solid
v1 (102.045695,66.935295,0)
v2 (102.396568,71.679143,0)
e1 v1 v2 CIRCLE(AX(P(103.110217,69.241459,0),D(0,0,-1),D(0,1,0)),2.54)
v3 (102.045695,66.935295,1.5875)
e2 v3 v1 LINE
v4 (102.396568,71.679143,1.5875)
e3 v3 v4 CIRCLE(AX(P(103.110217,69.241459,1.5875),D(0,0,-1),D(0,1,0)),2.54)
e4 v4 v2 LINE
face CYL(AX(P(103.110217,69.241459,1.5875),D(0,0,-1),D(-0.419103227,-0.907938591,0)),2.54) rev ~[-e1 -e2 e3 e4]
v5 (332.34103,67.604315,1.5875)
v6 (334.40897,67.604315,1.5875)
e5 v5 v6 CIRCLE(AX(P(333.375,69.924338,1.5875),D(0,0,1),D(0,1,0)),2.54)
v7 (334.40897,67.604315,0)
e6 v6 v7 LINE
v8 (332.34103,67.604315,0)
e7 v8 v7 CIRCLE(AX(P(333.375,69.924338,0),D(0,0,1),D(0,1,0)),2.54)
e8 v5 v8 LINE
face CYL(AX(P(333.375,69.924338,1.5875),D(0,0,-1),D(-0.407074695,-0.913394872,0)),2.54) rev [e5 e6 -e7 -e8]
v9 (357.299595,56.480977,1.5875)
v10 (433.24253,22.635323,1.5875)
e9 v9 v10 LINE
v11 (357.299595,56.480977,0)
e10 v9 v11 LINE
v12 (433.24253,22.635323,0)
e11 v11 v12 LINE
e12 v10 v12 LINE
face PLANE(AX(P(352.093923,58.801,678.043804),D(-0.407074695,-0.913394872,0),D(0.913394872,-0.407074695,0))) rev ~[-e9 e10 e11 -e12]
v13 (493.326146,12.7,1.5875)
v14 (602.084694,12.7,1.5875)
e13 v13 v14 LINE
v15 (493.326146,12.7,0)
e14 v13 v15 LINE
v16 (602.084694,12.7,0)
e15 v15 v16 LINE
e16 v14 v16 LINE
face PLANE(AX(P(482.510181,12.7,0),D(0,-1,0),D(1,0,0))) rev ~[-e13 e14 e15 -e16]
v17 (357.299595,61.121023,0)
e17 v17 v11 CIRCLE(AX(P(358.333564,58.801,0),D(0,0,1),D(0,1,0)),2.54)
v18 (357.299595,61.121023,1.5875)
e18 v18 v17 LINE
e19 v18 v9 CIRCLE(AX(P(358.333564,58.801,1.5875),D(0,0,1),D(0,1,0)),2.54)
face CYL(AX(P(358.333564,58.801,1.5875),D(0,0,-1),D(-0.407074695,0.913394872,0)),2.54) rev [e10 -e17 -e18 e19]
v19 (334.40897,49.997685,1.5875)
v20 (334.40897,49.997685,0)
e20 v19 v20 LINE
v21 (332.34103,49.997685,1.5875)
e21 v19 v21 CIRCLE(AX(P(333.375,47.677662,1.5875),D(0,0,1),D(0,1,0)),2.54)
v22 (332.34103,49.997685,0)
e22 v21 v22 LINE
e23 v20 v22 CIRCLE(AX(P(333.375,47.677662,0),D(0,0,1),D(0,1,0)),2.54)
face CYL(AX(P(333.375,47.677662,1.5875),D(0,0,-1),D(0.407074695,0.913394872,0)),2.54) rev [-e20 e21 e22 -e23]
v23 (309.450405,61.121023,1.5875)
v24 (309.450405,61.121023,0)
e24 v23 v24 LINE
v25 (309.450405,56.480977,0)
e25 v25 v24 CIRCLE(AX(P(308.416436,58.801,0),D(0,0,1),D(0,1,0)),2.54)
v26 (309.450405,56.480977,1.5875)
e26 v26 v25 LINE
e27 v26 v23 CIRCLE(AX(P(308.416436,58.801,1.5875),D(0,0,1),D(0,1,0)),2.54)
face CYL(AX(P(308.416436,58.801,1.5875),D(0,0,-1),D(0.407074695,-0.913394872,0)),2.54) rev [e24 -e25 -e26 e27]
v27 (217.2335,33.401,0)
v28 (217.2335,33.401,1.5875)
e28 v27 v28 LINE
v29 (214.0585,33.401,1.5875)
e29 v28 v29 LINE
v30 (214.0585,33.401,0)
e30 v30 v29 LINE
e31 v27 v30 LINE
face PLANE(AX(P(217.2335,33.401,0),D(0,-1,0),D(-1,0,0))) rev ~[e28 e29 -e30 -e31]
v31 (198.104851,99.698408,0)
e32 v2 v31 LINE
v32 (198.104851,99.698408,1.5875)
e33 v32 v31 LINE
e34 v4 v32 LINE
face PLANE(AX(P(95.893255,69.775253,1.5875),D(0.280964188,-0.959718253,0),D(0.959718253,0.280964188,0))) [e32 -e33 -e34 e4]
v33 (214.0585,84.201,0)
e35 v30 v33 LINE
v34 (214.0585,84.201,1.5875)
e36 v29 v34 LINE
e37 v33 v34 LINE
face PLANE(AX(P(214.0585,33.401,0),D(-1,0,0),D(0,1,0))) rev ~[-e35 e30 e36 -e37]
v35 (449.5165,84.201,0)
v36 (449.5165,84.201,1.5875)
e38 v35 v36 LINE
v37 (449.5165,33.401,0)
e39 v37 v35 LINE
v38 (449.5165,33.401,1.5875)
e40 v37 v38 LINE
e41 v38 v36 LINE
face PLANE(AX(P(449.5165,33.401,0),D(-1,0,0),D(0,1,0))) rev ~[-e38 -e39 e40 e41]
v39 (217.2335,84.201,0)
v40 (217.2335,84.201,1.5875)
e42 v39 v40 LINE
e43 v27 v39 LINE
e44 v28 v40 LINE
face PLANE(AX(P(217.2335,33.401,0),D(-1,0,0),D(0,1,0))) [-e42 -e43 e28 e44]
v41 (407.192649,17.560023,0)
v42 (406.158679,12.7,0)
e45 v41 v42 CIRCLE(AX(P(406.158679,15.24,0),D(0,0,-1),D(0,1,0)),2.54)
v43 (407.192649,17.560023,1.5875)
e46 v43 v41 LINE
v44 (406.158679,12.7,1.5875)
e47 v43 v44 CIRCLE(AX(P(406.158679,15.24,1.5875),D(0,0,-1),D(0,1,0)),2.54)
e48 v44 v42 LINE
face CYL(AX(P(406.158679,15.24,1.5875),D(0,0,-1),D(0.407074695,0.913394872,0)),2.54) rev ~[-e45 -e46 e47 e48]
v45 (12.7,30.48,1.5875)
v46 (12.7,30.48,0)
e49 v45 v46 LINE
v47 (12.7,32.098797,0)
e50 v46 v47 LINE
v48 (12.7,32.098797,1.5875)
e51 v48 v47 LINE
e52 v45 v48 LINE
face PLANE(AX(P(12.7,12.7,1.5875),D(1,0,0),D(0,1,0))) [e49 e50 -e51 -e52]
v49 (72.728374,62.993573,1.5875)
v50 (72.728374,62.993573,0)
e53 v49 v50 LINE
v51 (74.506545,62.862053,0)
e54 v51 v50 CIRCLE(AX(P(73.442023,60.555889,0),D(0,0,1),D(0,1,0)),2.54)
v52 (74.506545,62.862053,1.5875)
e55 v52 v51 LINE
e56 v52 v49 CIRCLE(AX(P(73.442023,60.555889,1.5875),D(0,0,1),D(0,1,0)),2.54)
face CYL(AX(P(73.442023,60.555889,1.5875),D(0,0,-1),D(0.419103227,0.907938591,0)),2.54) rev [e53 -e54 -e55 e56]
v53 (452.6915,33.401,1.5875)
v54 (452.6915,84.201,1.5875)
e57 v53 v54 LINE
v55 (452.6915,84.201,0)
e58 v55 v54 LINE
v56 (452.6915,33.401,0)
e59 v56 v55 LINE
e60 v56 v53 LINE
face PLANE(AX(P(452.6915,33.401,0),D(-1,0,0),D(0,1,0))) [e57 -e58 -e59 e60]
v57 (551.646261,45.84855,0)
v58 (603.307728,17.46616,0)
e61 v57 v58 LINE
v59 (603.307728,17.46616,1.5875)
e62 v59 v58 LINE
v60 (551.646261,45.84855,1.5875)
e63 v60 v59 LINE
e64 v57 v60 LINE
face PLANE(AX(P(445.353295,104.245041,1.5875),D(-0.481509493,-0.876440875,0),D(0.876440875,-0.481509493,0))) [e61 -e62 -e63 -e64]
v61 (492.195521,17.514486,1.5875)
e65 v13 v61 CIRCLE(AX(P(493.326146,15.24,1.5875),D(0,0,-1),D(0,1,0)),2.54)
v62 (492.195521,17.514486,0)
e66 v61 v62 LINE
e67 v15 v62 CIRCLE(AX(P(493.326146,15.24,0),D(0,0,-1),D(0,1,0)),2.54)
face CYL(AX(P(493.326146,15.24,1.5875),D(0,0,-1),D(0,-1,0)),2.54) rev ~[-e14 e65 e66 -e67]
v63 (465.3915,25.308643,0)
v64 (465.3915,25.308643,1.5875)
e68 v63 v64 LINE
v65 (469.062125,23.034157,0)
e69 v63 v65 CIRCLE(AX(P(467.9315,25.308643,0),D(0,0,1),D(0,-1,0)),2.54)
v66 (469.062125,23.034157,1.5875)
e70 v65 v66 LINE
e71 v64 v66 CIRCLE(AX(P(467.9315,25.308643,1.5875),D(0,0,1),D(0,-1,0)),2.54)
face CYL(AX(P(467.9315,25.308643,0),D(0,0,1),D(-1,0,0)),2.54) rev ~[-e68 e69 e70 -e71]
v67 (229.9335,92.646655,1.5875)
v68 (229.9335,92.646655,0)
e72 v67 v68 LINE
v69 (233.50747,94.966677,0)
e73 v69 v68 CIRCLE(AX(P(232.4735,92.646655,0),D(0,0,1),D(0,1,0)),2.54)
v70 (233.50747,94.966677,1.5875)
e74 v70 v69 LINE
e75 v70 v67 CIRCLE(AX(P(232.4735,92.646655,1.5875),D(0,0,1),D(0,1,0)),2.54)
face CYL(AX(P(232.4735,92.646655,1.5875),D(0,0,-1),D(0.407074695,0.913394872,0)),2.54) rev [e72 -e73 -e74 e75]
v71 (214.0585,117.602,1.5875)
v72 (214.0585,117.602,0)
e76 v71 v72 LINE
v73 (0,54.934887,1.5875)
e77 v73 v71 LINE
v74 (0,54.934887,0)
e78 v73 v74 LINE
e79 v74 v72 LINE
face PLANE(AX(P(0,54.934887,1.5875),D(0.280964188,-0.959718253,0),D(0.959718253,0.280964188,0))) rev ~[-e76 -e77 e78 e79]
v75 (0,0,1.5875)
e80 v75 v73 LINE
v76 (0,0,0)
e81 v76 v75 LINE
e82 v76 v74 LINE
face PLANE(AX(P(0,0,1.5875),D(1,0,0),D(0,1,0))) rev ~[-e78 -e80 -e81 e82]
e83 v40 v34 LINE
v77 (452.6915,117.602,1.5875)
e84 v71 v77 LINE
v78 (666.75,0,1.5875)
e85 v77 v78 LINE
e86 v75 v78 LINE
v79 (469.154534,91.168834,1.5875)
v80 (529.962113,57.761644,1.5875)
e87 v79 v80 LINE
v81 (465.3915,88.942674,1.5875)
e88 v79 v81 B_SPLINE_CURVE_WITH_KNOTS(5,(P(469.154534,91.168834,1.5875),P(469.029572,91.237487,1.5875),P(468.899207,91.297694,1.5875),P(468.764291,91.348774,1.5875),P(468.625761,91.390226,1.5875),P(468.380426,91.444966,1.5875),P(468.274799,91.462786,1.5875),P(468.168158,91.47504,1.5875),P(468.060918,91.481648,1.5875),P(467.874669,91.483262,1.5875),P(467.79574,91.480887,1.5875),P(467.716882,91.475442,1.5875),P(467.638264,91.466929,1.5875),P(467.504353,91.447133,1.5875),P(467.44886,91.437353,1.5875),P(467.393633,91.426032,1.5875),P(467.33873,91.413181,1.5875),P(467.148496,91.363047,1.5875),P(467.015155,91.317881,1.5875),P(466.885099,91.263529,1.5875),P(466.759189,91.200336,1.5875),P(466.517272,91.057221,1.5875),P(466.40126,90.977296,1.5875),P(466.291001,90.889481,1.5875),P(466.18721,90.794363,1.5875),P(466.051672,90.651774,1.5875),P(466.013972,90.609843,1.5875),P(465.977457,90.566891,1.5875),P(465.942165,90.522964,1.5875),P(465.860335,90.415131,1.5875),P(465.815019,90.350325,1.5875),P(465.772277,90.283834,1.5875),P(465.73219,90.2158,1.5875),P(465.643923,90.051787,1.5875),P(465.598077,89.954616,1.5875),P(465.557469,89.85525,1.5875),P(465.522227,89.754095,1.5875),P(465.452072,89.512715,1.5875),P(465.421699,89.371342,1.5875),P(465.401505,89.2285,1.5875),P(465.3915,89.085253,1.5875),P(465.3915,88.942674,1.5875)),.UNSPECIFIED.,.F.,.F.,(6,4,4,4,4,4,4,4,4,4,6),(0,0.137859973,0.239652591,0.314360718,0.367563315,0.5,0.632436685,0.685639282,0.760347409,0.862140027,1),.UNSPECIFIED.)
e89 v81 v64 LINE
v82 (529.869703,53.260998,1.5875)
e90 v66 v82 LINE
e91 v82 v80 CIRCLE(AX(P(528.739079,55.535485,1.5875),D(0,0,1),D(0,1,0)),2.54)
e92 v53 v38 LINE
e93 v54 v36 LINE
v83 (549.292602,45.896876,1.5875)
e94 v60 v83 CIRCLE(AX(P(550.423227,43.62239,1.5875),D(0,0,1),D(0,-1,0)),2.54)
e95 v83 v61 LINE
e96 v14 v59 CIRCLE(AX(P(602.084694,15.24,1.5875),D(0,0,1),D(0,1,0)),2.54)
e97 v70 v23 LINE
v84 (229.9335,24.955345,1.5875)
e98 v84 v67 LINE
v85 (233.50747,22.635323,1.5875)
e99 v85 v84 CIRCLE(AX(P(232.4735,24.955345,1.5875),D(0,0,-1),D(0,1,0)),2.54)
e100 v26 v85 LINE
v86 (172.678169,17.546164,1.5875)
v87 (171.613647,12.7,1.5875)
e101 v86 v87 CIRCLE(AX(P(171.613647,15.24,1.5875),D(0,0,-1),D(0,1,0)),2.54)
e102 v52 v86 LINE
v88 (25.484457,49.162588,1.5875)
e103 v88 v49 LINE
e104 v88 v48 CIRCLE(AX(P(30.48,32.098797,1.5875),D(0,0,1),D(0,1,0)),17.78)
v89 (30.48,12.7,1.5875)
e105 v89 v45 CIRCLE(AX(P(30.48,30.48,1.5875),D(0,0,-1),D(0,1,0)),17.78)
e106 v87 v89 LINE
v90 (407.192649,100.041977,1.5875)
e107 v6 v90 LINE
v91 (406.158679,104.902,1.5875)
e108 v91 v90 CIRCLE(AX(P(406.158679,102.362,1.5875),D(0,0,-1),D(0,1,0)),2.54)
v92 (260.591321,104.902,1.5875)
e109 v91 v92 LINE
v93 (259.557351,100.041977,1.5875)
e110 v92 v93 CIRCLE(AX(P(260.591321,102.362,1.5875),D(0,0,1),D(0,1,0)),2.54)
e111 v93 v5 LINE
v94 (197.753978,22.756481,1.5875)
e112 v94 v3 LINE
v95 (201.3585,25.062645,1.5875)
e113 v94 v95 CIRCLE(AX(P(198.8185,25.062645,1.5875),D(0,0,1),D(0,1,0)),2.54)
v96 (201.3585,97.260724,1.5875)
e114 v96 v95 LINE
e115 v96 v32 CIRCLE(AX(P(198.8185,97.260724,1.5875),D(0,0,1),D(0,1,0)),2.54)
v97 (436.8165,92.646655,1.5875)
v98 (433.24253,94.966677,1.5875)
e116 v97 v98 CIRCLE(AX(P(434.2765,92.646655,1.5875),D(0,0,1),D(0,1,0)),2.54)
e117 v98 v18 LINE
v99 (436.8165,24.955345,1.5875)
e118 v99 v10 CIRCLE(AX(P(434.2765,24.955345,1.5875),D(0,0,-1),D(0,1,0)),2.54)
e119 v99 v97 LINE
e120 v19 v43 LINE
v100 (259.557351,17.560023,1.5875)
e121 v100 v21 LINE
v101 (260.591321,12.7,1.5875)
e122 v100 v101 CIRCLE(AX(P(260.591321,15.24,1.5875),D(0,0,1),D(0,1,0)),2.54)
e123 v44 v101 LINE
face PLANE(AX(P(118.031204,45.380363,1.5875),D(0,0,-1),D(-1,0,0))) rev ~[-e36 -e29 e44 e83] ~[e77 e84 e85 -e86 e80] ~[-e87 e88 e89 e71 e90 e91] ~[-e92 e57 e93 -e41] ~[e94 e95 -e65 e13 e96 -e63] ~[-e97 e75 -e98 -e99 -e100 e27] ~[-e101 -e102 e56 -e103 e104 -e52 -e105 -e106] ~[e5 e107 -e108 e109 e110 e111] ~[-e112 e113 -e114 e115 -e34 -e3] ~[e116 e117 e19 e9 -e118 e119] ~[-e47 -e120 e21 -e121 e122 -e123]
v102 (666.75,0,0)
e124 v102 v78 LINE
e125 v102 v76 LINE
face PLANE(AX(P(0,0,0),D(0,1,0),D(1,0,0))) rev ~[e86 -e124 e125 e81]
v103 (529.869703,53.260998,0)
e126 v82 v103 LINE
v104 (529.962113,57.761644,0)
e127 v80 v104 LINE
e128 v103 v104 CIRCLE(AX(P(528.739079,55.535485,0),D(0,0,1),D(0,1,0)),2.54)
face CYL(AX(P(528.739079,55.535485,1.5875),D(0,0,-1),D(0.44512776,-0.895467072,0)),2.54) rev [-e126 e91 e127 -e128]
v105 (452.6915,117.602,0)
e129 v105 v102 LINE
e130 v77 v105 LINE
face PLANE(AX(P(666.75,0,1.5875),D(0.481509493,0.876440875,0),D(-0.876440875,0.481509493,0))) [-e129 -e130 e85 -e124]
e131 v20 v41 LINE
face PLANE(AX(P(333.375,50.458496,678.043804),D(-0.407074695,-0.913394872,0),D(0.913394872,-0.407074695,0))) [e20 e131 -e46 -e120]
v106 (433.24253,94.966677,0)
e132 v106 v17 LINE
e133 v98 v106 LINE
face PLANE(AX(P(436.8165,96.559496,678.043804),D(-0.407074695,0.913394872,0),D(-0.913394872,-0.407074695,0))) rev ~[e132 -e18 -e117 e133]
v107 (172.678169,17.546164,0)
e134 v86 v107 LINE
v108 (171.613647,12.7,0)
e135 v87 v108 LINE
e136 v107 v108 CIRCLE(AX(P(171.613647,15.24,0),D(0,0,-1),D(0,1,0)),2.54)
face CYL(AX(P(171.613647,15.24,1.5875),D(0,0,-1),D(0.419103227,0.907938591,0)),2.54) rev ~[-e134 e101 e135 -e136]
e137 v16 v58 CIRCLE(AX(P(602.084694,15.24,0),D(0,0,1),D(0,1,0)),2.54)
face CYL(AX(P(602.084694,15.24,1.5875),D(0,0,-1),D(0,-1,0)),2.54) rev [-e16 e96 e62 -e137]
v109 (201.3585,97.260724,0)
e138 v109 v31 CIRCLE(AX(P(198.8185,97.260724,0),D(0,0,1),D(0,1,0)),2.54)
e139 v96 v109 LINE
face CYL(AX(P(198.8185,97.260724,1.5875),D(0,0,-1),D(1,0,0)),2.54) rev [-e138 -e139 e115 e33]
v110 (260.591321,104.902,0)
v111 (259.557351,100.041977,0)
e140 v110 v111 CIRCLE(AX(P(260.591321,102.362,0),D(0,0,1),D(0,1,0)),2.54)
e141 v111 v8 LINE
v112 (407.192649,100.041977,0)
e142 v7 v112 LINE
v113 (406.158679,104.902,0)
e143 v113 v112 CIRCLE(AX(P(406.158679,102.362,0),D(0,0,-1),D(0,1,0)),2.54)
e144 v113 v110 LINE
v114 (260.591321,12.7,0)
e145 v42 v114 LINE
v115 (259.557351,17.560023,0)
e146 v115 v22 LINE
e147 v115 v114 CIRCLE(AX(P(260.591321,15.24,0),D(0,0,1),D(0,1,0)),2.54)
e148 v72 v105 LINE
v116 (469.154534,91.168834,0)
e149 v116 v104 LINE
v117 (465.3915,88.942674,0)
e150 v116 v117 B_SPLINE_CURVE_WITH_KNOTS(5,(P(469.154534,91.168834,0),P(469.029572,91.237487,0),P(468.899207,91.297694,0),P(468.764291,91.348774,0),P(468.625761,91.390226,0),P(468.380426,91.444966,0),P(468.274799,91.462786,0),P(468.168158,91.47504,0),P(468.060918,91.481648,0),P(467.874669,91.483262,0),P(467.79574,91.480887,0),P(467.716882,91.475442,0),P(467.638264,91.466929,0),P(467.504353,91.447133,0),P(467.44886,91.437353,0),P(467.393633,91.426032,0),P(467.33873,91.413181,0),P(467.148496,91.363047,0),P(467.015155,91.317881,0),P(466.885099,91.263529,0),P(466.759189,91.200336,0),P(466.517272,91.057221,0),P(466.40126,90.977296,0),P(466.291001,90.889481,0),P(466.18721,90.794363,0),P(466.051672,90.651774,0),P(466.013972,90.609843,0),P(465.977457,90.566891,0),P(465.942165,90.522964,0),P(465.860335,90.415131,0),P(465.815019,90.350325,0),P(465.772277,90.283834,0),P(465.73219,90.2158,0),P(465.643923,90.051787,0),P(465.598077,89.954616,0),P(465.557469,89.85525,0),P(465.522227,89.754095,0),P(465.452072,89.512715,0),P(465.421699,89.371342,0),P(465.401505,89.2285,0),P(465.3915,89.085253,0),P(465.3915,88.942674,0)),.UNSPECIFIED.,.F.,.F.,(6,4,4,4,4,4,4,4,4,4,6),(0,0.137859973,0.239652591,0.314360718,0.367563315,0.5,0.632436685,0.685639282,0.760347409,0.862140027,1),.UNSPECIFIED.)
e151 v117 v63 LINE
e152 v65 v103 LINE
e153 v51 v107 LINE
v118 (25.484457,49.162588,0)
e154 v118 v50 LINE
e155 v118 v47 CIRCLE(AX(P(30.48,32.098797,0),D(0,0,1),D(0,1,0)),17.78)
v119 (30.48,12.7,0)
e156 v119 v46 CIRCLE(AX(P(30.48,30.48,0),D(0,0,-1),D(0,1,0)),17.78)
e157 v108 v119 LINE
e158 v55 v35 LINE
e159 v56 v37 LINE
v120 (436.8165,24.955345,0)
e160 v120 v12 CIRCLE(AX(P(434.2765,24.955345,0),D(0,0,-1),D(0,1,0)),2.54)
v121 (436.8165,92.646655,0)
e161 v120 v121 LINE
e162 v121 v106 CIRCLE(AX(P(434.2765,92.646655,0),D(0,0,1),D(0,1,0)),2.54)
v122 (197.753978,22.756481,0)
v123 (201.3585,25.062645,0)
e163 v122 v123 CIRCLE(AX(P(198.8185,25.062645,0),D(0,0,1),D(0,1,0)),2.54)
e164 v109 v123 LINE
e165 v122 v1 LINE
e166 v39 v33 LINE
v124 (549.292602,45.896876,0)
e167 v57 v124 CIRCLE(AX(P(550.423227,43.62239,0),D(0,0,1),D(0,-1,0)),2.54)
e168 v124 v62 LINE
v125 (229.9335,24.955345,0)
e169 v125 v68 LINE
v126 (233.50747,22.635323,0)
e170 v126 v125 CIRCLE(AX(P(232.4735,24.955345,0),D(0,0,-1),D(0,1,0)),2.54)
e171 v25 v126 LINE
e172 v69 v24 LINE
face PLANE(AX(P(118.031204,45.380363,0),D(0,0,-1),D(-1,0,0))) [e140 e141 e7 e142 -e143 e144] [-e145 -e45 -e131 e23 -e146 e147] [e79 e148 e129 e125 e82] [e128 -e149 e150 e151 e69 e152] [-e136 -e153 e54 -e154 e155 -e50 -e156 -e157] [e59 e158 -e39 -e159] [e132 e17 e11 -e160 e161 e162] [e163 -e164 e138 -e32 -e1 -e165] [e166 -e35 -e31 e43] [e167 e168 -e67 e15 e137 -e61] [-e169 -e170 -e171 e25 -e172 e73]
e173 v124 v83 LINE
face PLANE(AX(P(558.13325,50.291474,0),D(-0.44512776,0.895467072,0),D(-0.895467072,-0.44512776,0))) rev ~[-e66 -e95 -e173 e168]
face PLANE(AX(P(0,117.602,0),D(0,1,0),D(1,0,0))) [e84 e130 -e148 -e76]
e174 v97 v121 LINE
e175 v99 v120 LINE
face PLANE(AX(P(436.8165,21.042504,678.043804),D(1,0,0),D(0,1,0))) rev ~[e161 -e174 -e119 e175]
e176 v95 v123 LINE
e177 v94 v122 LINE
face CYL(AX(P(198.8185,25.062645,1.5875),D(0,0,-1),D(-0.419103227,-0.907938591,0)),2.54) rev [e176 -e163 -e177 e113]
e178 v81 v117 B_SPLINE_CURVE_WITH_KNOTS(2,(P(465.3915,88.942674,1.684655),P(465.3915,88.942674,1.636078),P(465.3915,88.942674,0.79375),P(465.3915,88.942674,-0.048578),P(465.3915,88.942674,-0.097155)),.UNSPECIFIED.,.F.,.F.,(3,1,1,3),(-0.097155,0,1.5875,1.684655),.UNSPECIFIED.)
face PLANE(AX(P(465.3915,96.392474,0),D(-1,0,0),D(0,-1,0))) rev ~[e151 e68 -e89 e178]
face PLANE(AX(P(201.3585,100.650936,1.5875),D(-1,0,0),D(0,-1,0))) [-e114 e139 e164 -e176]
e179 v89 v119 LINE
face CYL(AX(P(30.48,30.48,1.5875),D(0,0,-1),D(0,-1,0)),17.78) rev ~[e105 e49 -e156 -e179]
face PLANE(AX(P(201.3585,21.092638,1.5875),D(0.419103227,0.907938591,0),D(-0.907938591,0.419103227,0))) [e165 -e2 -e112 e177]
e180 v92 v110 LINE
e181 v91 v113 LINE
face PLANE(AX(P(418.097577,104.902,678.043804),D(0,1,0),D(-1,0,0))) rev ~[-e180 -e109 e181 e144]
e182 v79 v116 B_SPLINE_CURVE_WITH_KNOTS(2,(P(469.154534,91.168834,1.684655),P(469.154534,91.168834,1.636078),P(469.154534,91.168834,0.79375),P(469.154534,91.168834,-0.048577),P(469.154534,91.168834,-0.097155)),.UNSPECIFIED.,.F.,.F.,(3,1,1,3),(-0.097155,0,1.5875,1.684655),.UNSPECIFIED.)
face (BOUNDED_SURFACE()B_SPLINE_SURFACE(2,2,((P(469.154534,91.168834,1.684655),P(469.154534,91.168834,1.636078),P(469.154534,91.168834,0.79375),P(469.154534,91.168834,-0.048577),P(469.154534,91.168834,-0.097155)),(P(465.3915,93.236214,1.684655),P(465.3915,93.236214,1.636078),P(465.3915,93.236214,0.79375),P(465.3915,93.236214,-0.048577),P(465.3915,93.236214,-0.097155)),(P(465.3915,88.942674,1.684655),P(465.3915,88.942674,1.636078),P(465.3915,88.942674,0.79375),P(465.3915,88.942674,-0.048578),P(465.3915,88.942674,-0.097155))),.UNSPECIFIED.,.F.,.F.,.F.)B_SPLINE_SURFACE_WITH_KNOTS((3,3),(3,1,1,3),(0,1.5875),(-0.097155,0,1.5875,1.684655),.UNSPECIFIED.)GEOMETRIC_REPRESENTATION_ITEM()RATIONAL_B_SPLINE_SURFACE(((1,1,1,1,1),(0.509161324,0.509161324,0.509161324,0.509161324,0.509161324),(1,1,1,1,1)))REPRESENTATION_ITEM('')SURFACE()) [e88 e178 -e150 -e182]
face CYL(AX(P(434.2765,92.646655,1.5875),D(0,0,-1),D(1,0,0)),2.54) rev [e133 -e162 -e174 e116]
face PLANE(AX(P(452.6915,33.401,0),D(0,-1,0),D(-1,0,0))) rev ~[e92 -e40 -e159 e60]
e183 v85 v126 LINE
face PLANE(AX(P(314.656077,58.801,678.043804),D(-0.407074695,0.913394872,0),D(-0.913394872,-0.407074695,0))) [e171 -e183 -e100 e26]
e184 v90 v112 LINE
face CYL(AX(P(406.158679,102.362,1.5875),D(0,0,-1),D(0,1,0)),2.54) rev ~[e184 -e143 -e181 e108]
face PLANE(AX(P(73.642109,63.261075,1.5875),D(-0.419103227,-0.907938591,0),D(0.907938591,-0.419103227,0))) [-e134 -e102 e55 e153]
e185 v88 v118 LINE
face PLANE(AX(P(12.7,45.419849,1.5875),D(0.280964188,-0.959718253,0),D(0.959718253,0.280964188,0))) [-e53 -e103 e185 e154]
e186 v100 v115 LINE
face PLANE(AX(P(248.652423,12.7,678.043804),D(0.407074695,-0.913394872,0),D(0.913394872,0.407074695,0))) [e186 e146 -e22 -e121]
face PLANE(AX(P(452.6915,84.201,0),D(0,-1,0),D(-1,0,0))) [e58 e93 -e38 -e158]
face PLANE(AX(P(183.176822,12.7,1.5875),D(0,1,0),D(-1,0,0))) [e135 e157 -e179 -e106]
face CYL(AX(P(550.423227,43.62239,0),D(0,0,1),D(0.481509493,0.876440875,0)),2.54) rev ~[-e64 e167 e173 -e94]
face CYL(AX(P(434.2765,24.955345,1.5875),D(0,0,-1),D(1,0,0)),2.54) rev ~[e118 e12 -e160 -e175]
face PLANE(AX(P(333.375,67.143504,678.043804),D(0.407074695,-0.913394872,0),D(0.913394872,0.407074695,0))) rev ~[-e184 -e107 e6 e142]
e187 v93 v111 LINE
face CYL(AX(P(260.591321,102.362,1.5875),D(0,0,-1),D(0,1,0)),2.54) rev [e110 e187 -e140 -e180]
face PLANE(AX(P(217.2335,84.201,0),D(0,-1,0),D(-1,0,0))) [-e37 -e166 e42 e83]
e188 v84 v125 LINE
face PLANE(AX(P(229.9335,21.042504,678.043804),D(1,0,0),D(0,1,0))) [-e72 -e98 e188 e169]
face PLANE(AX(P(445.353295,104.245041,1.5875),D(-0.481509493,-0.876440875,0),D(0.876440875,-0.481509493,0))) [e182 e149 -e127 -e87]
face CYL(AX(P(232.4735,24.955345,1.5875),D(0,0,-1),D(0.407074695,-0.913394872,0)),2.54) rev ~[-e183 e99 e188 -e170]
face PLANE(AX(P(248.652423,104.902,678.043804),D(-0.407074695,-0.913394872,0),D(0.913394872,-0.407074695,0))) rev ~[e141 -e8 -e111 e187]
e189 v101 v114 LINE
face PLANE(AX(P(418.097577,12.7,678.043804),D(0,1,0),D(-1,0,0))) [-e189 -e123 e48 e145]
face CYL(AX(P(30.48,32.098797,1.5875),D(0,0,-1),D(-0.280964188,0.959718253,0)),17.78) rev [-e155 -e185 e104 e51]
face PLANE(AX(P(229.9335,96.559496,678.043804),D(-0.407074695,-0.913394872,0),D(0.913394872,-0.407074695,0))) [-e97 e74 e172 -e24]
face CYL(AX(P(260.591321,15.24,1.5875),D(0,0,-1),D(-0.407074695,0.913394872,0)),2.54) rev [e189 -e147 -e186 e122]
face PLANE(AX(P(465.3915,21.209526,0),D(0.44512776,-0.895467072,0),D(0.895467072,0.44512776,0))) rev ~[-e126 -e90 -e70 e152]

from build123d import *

# Parameters (mm, degrees)
SKETCH1_W               = 666.75
SKETCH1_H               = 117.602
BOSS_EXTRUDE1_DEPTH     = 1.5875
CUT_EXTRUDE1_REACH      = 679.044
SKETCH3_W               = 3.175
SKETCH3_H               = 50.8
CUT_EXTRUDE2_DEPTH      = 678.043804388
FILLET1_R               = 2.54
FILLET1_OF_MIRROR1_R    = 2.54
CUT_EXTRUDE3_DEPTH      = 678.043804388
CUT_EXTRUDE3_DEPTH_BACK = 678.043804388
FILLET2_R               = 2.54
CUT_EXTRUDE4_REACH      = 679.044
BOSS_EXTRUDE7_DEPTH     = 1.5875
CUT_EXTRUDE5_REACH      = 679.044
FILLET3_R               = 2.54
BOSS_EXTRUDE9_DEPTH     = 1.5875
CUT_EXTRUDE10_REACH     = 679.044
FILLET4_R               = 2.54
FILLET5_R               = 17.78


with BuildPart() as part:
    # Sketch1 → Boss-Extrude1 (new body)
    with BuildSketch(Plane.XY):
        with Locations((333.375, 58.801)):
            Rectangle(SKETCH1_W, SKETCH1_H)
    extrude(amount=BOSS_EXTRUDE1_DEPTH)

    # Sketch3 → Cut-Extrude1 (cut, up to next)
    with BuildSketch(Plane(origin=(0, 0, 0), x_dir=(-1, 0, 0), z_dir=(0, 0, -1)), mode=Mode.PRIVATE) as cut_extrude1_sk1:
        with Locations((-215.646, 58.801)):
            Rectangle(SKETCH3_W, SKETCH3_H)
    cut_extrude1_tool1 = extrude(cut_extrude1_sk1.sketch, amount=-CUT_EXTRUDE1_REACH, mode=Mode.PRIVATE) & part.part
    # Sketch3 → Cut-Extrude1 (cut, up to next)
    with BuildSketch(Plane(origin=(0, 0, 0), x_dir=(-1, 0, 0), z_dir=(0, 0, -1)), mode=Mode.PRIVATE) as cut_extrude1_sk2:
        with Locations((-451.104, 58.801)):
            Rectangle(SKETCH3_W, SKETCH3_H)
    cut_extrude1_tool2 = extrude(cut_extrude1_sk2.sketch, amount=-CUT_EXTRUDE1_REACH, mode=Mode.PRIVATE) & part.part
    # Sketch3 → Cut-Extrude1 (cut, up to next)
    with BuildSketch(Plane(origin=(0, 0, 0), x_dir=(-1, 0, 0), z_dir=(0, 0, -1)), mode=Mode.PRIVATE) as cut_extrude1_sk3:
        with Locations((-665.1625, 58.801)):
            Rectangle(SKETCH3_W, SKETCH3_H)
    cut_extrude1_tool3 = extrude(cut_extrude1_sk3.sketch, amount=-CUT_EXTRUDE1_REACH, mode=Mode.PRIVATE) & part.part
    # Sketch3 → Cut-Extrude1 (cut, up to next)
    with BuildSketch(Plane(origin=(0, 0, 0), x_dir=(-1, 0, 0), z_dir=(0, 0, -1)), mode=Mode.PRIVATE) as cut_extrude1_sk4:
        with Locations((-1.5875, 58.801)):
            Rectangle(SKETCH3_W, SKETCH3_H)
    cut_extrude1_tool4 = extrude(cut_extrude1_sk4.sketch, amount=-CUT_EXTRUDE1_REACH, mode=Mode.PRIVATE) & part.part
    add(cut_extrude1_tool1.solids().sort_by_distance((215.646, 58.801, 0))[0], mode=Mode.SUBTRACT)
    add(cut_extrude1_tool2.solids().sort_by_distance((451.104, 58.801, 0))[0], mode=Mode.SUBTRACT)
    add(cut_extrude1_tool3.solids().sort_by_distance((665.1625, 58.801, 0))[0], mode=Mode.SUBTRACT)
    add(cut_extrude1_tool4.solids().sort_by_distance((1.5875, 58.801, 0))[0], mode=Mode.SUBTRACT)

    # Sketch4 → Cut-Extrude2 (cut, symmetric)
    with BuildSketch(Plane(origin=(0, 0, 0), x_dir=(-1, 0, 0), z_dir=(0, 0, -1))):
        Polygon((-482.510180694, 104.902), (-633.756319306, 104.902), (-558.13325, 67.310525631), align=None)
        Polygon((-465.3915, 96.392474369), (-465.3915, 21.209525631), (-541.014569306, 58.801), align=None)
        Polygon((-482.510180694, 12.7), (-633.756319306, 12.7), (-558.13325, 50.291474369), align=None)
        Polygon((-650.875, 96.392474369), (-650.875, 21.209525631), (-575.251930694, 58.801), align=None)
    cut_extrude2 = extrude(amount=CUT_EXTRUDE2_DEPTH, both=True, mode=Mode.SUBTRACT)

    # Fillet1
    fillet1_edges = [part.edges().sort_by_distance(p)[0] for p in [
        (650.875, 21.209525631, 0.79375),
        (650.875, 96.392474369, 0.79375),
        (633.756319306, 12.7, 0.79375),
        (558.13325, 50.291474369, 0.79375),
        (482.510180694, 12.7, 0.79375),
        (482.510180694, 104.902, 0.79375),
        (558.13325, 67.310525631, 0.79375),
        (633.756319306, 104.902, 0.79375),
        (541.014569306, 58.801, 0.79375),
        (465.3915, 96.392474369, 0.79375),
        (465.3915, 21.209525631, 0.79375),
        (575.251930694, 58.801, 0.79375),
    ]]
    fillet(fillet1_edges, radius=FILLET1_R)

    # Mirror1: Cut-Extrude2 across plane
    add(cut_extrude2.mirror(Plane(origin=(333.375, 0, 0), x_dir=(0, 0, 1), z_dir=(1, 0, 0))), mode=Mode.SUBTRACT)

    # Fillet1 of Mirror1
    fillet1_of_mirror1_edges = [part.edges().sort_by_distance(p)[0] for p in [
        (15.875, 21.209525631, 0.79375),
        (15.875, 96.392474369, 0.79375),
        (32.993680694, 12.7, 0.79375),
        (108.61675, 50.291474369, 0.79375),
        (184.239819306, 12.7, 0.79375),
        (184.239819306, 104.902, 0.79375),
        (108.61675, 67.310525631, 0.79375),
        (32.993680694, 104.902, 0.79375),
        (125.735430694, 58.801, 0.79375),
        (201.3585, 96.392474369, 0.79375),
        (201.3585, 21.209525631, 0.79375),
        (91.498069306, 58.801, 0.79375),
    ]]
    fillet(fillet1_of_mirror1_edges, radius=FILLET1_OF_MIRROR1_R)

    # Sketch6 → Cut-Extrude3 (cut, two sides: drawn at the far end of the back side and taken through both)
    with BuildSketch(Plane(origin=(0, 0, 0), x_dir=(-1, 0, 0), z_dir=(0, 0, -1)).offset(-CUT_EXTRUDE3_DEPTH_BACK)):
        Polygon((-418.097576662, 12.7), (-248.652423338, 12.7), (-333.375, 50.458496413), align=None)
        Polygon((-436.8165, 21.042503587), (-436.8165, 96.559496413), (-352.093923338, 58.801), align=None)
        Polygon((-418.097576662, 104.902), (-248.652423338, 104.902), (-333.375, 67.143503587), align=None)
        Polygon((-229.9335, 21.042503587), (-229.9335, 96.559496413), (-314.656076662, 58.801), align=None)
    extrude(amount=CUT_EXTRUDE3_DEPTH + CUT_EXTRUDE3_DEPTH_BACK, mode=Mode.SUBTRACT)

    # Fillet2
    fillet2_edges = [part.edges().sort_by_distance(p)[0] for p in [
        (314.656076662, 58.801, 0.79375),
        (229.9335, 96.559496413, 0.79375),
        (229.9335, 21.042503587, 0.79375),
        (418.097576662, 12.7, 0.79375),
        (333.375, 50.458496413, 0.79375),
        (248.652423338, 12.7, 0.79375),
        (352.093923338, 58.801, 0.79375),
        (436.8165, 21.042503587, 0.79375),
        (436.8165, 96.559496413, 0.79375),
        (248.652423338, 104.902, 0.79375),
        (333.375, 67.143503587, 0.79375),
        (418.097576662, 104.902, 0.79375),
    ]]
    fillet(fillet2_edges, radius=FILLET2_R)

    # Sketch7 → Cut-Extrude4 (cut, up to next)
    with BuildSketch(Plane.XY.offset(1.5875), mode=Mode.PRIVATE) as cut_extrude4_sk1:
        Polygon((666.75, 0), (452.6915, 117.602), (666.75, 117.602), align=None)
    cut_extrude4_tool1 = extrude(cut_extrude4_sk1.sketch, amount=-CUT_EXTRUDE4_REACH, mode=Mode.PRIVATE) & part.part
    # Sketch7 → Cut-Extrude4 (cut, up to next)
    with BuildSketch(Plane.XY.offset(1.5875), mode=Mode.PRIVATE) as cut_extrude4_sk2:
        Polygon((0, 117.602), (0, 0), (214.0585, 117.602), align=None)
    cut_extrude4_tool2 = extrude(cut_extrude4_sk2.sketch, amount=-CUT_EXTRUDE4_REACH, mode=Mode.PRIVATE) & part.part
    add(cut_extrude4_tool1.solids().sort_by_distance((595.397167, 78.401333, 1.5875))[0], mode=Mode.SUBTRACT)
    add(cut_extrude4_tool2.solids().sort_by_distance((71.352833, 78.401333, 1.5875))[0], mode=Mode.SUBTRACT)

    # Sketch8 → Boss-Extrude7 (add)
    with BuildSketch(Plane.XY.offset(1.5875)):
        Polygon((452.6915, 117.602), (445.353295325, 104.245041059), (635.099533668, 0), (642.437738342, 13.356958941), align=None)
        Polygon((31.650466332, 0), (24.312261658, 13.356958941), (214.0585, 117.602), (221.396704675, 104.245041059), align=None)
    extrude(amount=-BOSS_EXTRUDE7_DEPTH)

    # Sketch9 → Cut-Extrude5 (cut, up to next)
    with BuildSketch(Plane.XY.offset(1.5875), mode=Mode.PRIVATE) as cut_extrude5_sk1:
        Polygon((465.3915, 92.29335713), (465.3915, 93.236214284), (465.541652204, 93.153721884), align=None)
    cut_extrude5_tool1 = extrude(cut_extrude5_sk1.sketch, amount=-CUT_EXTRUDE5_REACH, mode=Mode.PRIVATE) & part.part
    # Sketch9 → Cut-Extrude5 (cut, up to next)
    with BuildSketch(Plane.XY.offset(1.5875), mode=Mode.PRIVATE) as cut_extrude5_sk2:
        Polygon((201.3585, 93.236214284), (201.208347796, 93.153721884), (201.3585, 92.29335713), align=None)
    cut_extrude5_tool2 = extrude(cut_extrude5_sk2.sketch, amount=-CUT_EXTRUDE5_REACH, mode=Mode.PRIVATE) & part.part
    add(cut_extrude5_tool1.solids().sort_by_distance((465.441551, 92.894431, 1.5875))[0], mode=Mode.SUBTRACT)
    add(cut_extrude5_tool2.solids().sort_by_distance((201.308449, 92.894431, 1.5875))[0], mode=Mode.SUBTRACT)

    # Fillet3
    fillet3_edges = [part.edges().sort_by_distance(p)[0] for p in [
        (534.218957024, 55.422968835, 0.79375),
        (550.482067841, 46.488147941, 0.79375),
        (611.983064985, 12.7, 0.79375),
        (54.766935015, 12.7, 0.79375),
        (116.267932159, 46.488147941, 0.79375),
        (132.531042976, 55.422968835, 0.79375),
        (465.3915, 93.236214284, 0.79375),
        (201.3585, 93.236214284, 0.79375),
    ]]
    fillet(fillet3_edges, radius=FILLET3_R)

    # Sketch13 → Boss-Extrude9 (add)
    with BuildSketch(Plane.XY.offset(1.5875)):
        Polygon((0, 54.934886574), (214.0585, 117.602), (214.0585, 0), (0, 0), align=None)
    extrude(amount=-BOSS_EXTRUDE9_DEPTH)

    # Sketch14 → Cut-Extrude10 (cut, up to next)
    with BuildSketch(Plane.XY.offset(1.5875), mode=Mode.PRIVATE) as cut_extrude10_sk1:
        Polygon((201.3585, 21.092638086), (95.893254571, 69.77525285), (201.3585, 100.650936356), align=None)
    cut_extrude10_tool1 = extrude(cut_extrude10_sk1.sketch, amount=-CUT_EXTRUDE10_REACH, mode=Mode.PRIVATE) & part.part
    # Sketch14 → Cut-Extrude10 (cut, up to next)
    with BuildSketch(Plane.XY.offset(1.5875), mode=Mode.PRIVATE) as cut_extrude10_sk2:
        Polygon((73.642109065, 63.261075374), (183.176821801, 12.7), (12.7, 12.7), (12.7, 45.419849442), align=None)
    cut_extrude10_tool2 = extrude(cut_extrude10_sk2.sketch, amount=-CUT_EXTRUDE10_REACH, mode=Mode.PRIVATE) & part.part
    add(cut_extrude10_tool1.solids().sort_by_distance((166.203418, 63.839609, 1.5875))[0], mode=Mode.SUBTRACT)
    add(cut_extrude10_tool2.solids().sort_by_distance((79.163512, 31.602776, 1.5875))[0], mode=Mode.SUBTRACT)

    # Fillet4
    fillet4_edges = [part.edges().sort_by_distance(p)[0] for p in [
        (201.3585, 100.650936356, 0.79375),
        (201.3585, 21.092638086, 0.79375),
        (95.893254571, 69.77525285, 0.79375),
        (73.642109065, 63.261075374, 0.79375),
        (183.176821801, 12.7, 0.79375),
    ]]
    fillet(fillet4_edges, radius=FILLET4_R)

    # Fillet5
    fillet5_edges = [part.edges().sort_by_distance(p)[0] for p in [
        (12.7, 45.419849442, 0.79375),
        (12.7, 12.7, 0.79375),
    ]]
    fillet(fillet5_edges, radius=FILLET5_R)


solid = part.part
